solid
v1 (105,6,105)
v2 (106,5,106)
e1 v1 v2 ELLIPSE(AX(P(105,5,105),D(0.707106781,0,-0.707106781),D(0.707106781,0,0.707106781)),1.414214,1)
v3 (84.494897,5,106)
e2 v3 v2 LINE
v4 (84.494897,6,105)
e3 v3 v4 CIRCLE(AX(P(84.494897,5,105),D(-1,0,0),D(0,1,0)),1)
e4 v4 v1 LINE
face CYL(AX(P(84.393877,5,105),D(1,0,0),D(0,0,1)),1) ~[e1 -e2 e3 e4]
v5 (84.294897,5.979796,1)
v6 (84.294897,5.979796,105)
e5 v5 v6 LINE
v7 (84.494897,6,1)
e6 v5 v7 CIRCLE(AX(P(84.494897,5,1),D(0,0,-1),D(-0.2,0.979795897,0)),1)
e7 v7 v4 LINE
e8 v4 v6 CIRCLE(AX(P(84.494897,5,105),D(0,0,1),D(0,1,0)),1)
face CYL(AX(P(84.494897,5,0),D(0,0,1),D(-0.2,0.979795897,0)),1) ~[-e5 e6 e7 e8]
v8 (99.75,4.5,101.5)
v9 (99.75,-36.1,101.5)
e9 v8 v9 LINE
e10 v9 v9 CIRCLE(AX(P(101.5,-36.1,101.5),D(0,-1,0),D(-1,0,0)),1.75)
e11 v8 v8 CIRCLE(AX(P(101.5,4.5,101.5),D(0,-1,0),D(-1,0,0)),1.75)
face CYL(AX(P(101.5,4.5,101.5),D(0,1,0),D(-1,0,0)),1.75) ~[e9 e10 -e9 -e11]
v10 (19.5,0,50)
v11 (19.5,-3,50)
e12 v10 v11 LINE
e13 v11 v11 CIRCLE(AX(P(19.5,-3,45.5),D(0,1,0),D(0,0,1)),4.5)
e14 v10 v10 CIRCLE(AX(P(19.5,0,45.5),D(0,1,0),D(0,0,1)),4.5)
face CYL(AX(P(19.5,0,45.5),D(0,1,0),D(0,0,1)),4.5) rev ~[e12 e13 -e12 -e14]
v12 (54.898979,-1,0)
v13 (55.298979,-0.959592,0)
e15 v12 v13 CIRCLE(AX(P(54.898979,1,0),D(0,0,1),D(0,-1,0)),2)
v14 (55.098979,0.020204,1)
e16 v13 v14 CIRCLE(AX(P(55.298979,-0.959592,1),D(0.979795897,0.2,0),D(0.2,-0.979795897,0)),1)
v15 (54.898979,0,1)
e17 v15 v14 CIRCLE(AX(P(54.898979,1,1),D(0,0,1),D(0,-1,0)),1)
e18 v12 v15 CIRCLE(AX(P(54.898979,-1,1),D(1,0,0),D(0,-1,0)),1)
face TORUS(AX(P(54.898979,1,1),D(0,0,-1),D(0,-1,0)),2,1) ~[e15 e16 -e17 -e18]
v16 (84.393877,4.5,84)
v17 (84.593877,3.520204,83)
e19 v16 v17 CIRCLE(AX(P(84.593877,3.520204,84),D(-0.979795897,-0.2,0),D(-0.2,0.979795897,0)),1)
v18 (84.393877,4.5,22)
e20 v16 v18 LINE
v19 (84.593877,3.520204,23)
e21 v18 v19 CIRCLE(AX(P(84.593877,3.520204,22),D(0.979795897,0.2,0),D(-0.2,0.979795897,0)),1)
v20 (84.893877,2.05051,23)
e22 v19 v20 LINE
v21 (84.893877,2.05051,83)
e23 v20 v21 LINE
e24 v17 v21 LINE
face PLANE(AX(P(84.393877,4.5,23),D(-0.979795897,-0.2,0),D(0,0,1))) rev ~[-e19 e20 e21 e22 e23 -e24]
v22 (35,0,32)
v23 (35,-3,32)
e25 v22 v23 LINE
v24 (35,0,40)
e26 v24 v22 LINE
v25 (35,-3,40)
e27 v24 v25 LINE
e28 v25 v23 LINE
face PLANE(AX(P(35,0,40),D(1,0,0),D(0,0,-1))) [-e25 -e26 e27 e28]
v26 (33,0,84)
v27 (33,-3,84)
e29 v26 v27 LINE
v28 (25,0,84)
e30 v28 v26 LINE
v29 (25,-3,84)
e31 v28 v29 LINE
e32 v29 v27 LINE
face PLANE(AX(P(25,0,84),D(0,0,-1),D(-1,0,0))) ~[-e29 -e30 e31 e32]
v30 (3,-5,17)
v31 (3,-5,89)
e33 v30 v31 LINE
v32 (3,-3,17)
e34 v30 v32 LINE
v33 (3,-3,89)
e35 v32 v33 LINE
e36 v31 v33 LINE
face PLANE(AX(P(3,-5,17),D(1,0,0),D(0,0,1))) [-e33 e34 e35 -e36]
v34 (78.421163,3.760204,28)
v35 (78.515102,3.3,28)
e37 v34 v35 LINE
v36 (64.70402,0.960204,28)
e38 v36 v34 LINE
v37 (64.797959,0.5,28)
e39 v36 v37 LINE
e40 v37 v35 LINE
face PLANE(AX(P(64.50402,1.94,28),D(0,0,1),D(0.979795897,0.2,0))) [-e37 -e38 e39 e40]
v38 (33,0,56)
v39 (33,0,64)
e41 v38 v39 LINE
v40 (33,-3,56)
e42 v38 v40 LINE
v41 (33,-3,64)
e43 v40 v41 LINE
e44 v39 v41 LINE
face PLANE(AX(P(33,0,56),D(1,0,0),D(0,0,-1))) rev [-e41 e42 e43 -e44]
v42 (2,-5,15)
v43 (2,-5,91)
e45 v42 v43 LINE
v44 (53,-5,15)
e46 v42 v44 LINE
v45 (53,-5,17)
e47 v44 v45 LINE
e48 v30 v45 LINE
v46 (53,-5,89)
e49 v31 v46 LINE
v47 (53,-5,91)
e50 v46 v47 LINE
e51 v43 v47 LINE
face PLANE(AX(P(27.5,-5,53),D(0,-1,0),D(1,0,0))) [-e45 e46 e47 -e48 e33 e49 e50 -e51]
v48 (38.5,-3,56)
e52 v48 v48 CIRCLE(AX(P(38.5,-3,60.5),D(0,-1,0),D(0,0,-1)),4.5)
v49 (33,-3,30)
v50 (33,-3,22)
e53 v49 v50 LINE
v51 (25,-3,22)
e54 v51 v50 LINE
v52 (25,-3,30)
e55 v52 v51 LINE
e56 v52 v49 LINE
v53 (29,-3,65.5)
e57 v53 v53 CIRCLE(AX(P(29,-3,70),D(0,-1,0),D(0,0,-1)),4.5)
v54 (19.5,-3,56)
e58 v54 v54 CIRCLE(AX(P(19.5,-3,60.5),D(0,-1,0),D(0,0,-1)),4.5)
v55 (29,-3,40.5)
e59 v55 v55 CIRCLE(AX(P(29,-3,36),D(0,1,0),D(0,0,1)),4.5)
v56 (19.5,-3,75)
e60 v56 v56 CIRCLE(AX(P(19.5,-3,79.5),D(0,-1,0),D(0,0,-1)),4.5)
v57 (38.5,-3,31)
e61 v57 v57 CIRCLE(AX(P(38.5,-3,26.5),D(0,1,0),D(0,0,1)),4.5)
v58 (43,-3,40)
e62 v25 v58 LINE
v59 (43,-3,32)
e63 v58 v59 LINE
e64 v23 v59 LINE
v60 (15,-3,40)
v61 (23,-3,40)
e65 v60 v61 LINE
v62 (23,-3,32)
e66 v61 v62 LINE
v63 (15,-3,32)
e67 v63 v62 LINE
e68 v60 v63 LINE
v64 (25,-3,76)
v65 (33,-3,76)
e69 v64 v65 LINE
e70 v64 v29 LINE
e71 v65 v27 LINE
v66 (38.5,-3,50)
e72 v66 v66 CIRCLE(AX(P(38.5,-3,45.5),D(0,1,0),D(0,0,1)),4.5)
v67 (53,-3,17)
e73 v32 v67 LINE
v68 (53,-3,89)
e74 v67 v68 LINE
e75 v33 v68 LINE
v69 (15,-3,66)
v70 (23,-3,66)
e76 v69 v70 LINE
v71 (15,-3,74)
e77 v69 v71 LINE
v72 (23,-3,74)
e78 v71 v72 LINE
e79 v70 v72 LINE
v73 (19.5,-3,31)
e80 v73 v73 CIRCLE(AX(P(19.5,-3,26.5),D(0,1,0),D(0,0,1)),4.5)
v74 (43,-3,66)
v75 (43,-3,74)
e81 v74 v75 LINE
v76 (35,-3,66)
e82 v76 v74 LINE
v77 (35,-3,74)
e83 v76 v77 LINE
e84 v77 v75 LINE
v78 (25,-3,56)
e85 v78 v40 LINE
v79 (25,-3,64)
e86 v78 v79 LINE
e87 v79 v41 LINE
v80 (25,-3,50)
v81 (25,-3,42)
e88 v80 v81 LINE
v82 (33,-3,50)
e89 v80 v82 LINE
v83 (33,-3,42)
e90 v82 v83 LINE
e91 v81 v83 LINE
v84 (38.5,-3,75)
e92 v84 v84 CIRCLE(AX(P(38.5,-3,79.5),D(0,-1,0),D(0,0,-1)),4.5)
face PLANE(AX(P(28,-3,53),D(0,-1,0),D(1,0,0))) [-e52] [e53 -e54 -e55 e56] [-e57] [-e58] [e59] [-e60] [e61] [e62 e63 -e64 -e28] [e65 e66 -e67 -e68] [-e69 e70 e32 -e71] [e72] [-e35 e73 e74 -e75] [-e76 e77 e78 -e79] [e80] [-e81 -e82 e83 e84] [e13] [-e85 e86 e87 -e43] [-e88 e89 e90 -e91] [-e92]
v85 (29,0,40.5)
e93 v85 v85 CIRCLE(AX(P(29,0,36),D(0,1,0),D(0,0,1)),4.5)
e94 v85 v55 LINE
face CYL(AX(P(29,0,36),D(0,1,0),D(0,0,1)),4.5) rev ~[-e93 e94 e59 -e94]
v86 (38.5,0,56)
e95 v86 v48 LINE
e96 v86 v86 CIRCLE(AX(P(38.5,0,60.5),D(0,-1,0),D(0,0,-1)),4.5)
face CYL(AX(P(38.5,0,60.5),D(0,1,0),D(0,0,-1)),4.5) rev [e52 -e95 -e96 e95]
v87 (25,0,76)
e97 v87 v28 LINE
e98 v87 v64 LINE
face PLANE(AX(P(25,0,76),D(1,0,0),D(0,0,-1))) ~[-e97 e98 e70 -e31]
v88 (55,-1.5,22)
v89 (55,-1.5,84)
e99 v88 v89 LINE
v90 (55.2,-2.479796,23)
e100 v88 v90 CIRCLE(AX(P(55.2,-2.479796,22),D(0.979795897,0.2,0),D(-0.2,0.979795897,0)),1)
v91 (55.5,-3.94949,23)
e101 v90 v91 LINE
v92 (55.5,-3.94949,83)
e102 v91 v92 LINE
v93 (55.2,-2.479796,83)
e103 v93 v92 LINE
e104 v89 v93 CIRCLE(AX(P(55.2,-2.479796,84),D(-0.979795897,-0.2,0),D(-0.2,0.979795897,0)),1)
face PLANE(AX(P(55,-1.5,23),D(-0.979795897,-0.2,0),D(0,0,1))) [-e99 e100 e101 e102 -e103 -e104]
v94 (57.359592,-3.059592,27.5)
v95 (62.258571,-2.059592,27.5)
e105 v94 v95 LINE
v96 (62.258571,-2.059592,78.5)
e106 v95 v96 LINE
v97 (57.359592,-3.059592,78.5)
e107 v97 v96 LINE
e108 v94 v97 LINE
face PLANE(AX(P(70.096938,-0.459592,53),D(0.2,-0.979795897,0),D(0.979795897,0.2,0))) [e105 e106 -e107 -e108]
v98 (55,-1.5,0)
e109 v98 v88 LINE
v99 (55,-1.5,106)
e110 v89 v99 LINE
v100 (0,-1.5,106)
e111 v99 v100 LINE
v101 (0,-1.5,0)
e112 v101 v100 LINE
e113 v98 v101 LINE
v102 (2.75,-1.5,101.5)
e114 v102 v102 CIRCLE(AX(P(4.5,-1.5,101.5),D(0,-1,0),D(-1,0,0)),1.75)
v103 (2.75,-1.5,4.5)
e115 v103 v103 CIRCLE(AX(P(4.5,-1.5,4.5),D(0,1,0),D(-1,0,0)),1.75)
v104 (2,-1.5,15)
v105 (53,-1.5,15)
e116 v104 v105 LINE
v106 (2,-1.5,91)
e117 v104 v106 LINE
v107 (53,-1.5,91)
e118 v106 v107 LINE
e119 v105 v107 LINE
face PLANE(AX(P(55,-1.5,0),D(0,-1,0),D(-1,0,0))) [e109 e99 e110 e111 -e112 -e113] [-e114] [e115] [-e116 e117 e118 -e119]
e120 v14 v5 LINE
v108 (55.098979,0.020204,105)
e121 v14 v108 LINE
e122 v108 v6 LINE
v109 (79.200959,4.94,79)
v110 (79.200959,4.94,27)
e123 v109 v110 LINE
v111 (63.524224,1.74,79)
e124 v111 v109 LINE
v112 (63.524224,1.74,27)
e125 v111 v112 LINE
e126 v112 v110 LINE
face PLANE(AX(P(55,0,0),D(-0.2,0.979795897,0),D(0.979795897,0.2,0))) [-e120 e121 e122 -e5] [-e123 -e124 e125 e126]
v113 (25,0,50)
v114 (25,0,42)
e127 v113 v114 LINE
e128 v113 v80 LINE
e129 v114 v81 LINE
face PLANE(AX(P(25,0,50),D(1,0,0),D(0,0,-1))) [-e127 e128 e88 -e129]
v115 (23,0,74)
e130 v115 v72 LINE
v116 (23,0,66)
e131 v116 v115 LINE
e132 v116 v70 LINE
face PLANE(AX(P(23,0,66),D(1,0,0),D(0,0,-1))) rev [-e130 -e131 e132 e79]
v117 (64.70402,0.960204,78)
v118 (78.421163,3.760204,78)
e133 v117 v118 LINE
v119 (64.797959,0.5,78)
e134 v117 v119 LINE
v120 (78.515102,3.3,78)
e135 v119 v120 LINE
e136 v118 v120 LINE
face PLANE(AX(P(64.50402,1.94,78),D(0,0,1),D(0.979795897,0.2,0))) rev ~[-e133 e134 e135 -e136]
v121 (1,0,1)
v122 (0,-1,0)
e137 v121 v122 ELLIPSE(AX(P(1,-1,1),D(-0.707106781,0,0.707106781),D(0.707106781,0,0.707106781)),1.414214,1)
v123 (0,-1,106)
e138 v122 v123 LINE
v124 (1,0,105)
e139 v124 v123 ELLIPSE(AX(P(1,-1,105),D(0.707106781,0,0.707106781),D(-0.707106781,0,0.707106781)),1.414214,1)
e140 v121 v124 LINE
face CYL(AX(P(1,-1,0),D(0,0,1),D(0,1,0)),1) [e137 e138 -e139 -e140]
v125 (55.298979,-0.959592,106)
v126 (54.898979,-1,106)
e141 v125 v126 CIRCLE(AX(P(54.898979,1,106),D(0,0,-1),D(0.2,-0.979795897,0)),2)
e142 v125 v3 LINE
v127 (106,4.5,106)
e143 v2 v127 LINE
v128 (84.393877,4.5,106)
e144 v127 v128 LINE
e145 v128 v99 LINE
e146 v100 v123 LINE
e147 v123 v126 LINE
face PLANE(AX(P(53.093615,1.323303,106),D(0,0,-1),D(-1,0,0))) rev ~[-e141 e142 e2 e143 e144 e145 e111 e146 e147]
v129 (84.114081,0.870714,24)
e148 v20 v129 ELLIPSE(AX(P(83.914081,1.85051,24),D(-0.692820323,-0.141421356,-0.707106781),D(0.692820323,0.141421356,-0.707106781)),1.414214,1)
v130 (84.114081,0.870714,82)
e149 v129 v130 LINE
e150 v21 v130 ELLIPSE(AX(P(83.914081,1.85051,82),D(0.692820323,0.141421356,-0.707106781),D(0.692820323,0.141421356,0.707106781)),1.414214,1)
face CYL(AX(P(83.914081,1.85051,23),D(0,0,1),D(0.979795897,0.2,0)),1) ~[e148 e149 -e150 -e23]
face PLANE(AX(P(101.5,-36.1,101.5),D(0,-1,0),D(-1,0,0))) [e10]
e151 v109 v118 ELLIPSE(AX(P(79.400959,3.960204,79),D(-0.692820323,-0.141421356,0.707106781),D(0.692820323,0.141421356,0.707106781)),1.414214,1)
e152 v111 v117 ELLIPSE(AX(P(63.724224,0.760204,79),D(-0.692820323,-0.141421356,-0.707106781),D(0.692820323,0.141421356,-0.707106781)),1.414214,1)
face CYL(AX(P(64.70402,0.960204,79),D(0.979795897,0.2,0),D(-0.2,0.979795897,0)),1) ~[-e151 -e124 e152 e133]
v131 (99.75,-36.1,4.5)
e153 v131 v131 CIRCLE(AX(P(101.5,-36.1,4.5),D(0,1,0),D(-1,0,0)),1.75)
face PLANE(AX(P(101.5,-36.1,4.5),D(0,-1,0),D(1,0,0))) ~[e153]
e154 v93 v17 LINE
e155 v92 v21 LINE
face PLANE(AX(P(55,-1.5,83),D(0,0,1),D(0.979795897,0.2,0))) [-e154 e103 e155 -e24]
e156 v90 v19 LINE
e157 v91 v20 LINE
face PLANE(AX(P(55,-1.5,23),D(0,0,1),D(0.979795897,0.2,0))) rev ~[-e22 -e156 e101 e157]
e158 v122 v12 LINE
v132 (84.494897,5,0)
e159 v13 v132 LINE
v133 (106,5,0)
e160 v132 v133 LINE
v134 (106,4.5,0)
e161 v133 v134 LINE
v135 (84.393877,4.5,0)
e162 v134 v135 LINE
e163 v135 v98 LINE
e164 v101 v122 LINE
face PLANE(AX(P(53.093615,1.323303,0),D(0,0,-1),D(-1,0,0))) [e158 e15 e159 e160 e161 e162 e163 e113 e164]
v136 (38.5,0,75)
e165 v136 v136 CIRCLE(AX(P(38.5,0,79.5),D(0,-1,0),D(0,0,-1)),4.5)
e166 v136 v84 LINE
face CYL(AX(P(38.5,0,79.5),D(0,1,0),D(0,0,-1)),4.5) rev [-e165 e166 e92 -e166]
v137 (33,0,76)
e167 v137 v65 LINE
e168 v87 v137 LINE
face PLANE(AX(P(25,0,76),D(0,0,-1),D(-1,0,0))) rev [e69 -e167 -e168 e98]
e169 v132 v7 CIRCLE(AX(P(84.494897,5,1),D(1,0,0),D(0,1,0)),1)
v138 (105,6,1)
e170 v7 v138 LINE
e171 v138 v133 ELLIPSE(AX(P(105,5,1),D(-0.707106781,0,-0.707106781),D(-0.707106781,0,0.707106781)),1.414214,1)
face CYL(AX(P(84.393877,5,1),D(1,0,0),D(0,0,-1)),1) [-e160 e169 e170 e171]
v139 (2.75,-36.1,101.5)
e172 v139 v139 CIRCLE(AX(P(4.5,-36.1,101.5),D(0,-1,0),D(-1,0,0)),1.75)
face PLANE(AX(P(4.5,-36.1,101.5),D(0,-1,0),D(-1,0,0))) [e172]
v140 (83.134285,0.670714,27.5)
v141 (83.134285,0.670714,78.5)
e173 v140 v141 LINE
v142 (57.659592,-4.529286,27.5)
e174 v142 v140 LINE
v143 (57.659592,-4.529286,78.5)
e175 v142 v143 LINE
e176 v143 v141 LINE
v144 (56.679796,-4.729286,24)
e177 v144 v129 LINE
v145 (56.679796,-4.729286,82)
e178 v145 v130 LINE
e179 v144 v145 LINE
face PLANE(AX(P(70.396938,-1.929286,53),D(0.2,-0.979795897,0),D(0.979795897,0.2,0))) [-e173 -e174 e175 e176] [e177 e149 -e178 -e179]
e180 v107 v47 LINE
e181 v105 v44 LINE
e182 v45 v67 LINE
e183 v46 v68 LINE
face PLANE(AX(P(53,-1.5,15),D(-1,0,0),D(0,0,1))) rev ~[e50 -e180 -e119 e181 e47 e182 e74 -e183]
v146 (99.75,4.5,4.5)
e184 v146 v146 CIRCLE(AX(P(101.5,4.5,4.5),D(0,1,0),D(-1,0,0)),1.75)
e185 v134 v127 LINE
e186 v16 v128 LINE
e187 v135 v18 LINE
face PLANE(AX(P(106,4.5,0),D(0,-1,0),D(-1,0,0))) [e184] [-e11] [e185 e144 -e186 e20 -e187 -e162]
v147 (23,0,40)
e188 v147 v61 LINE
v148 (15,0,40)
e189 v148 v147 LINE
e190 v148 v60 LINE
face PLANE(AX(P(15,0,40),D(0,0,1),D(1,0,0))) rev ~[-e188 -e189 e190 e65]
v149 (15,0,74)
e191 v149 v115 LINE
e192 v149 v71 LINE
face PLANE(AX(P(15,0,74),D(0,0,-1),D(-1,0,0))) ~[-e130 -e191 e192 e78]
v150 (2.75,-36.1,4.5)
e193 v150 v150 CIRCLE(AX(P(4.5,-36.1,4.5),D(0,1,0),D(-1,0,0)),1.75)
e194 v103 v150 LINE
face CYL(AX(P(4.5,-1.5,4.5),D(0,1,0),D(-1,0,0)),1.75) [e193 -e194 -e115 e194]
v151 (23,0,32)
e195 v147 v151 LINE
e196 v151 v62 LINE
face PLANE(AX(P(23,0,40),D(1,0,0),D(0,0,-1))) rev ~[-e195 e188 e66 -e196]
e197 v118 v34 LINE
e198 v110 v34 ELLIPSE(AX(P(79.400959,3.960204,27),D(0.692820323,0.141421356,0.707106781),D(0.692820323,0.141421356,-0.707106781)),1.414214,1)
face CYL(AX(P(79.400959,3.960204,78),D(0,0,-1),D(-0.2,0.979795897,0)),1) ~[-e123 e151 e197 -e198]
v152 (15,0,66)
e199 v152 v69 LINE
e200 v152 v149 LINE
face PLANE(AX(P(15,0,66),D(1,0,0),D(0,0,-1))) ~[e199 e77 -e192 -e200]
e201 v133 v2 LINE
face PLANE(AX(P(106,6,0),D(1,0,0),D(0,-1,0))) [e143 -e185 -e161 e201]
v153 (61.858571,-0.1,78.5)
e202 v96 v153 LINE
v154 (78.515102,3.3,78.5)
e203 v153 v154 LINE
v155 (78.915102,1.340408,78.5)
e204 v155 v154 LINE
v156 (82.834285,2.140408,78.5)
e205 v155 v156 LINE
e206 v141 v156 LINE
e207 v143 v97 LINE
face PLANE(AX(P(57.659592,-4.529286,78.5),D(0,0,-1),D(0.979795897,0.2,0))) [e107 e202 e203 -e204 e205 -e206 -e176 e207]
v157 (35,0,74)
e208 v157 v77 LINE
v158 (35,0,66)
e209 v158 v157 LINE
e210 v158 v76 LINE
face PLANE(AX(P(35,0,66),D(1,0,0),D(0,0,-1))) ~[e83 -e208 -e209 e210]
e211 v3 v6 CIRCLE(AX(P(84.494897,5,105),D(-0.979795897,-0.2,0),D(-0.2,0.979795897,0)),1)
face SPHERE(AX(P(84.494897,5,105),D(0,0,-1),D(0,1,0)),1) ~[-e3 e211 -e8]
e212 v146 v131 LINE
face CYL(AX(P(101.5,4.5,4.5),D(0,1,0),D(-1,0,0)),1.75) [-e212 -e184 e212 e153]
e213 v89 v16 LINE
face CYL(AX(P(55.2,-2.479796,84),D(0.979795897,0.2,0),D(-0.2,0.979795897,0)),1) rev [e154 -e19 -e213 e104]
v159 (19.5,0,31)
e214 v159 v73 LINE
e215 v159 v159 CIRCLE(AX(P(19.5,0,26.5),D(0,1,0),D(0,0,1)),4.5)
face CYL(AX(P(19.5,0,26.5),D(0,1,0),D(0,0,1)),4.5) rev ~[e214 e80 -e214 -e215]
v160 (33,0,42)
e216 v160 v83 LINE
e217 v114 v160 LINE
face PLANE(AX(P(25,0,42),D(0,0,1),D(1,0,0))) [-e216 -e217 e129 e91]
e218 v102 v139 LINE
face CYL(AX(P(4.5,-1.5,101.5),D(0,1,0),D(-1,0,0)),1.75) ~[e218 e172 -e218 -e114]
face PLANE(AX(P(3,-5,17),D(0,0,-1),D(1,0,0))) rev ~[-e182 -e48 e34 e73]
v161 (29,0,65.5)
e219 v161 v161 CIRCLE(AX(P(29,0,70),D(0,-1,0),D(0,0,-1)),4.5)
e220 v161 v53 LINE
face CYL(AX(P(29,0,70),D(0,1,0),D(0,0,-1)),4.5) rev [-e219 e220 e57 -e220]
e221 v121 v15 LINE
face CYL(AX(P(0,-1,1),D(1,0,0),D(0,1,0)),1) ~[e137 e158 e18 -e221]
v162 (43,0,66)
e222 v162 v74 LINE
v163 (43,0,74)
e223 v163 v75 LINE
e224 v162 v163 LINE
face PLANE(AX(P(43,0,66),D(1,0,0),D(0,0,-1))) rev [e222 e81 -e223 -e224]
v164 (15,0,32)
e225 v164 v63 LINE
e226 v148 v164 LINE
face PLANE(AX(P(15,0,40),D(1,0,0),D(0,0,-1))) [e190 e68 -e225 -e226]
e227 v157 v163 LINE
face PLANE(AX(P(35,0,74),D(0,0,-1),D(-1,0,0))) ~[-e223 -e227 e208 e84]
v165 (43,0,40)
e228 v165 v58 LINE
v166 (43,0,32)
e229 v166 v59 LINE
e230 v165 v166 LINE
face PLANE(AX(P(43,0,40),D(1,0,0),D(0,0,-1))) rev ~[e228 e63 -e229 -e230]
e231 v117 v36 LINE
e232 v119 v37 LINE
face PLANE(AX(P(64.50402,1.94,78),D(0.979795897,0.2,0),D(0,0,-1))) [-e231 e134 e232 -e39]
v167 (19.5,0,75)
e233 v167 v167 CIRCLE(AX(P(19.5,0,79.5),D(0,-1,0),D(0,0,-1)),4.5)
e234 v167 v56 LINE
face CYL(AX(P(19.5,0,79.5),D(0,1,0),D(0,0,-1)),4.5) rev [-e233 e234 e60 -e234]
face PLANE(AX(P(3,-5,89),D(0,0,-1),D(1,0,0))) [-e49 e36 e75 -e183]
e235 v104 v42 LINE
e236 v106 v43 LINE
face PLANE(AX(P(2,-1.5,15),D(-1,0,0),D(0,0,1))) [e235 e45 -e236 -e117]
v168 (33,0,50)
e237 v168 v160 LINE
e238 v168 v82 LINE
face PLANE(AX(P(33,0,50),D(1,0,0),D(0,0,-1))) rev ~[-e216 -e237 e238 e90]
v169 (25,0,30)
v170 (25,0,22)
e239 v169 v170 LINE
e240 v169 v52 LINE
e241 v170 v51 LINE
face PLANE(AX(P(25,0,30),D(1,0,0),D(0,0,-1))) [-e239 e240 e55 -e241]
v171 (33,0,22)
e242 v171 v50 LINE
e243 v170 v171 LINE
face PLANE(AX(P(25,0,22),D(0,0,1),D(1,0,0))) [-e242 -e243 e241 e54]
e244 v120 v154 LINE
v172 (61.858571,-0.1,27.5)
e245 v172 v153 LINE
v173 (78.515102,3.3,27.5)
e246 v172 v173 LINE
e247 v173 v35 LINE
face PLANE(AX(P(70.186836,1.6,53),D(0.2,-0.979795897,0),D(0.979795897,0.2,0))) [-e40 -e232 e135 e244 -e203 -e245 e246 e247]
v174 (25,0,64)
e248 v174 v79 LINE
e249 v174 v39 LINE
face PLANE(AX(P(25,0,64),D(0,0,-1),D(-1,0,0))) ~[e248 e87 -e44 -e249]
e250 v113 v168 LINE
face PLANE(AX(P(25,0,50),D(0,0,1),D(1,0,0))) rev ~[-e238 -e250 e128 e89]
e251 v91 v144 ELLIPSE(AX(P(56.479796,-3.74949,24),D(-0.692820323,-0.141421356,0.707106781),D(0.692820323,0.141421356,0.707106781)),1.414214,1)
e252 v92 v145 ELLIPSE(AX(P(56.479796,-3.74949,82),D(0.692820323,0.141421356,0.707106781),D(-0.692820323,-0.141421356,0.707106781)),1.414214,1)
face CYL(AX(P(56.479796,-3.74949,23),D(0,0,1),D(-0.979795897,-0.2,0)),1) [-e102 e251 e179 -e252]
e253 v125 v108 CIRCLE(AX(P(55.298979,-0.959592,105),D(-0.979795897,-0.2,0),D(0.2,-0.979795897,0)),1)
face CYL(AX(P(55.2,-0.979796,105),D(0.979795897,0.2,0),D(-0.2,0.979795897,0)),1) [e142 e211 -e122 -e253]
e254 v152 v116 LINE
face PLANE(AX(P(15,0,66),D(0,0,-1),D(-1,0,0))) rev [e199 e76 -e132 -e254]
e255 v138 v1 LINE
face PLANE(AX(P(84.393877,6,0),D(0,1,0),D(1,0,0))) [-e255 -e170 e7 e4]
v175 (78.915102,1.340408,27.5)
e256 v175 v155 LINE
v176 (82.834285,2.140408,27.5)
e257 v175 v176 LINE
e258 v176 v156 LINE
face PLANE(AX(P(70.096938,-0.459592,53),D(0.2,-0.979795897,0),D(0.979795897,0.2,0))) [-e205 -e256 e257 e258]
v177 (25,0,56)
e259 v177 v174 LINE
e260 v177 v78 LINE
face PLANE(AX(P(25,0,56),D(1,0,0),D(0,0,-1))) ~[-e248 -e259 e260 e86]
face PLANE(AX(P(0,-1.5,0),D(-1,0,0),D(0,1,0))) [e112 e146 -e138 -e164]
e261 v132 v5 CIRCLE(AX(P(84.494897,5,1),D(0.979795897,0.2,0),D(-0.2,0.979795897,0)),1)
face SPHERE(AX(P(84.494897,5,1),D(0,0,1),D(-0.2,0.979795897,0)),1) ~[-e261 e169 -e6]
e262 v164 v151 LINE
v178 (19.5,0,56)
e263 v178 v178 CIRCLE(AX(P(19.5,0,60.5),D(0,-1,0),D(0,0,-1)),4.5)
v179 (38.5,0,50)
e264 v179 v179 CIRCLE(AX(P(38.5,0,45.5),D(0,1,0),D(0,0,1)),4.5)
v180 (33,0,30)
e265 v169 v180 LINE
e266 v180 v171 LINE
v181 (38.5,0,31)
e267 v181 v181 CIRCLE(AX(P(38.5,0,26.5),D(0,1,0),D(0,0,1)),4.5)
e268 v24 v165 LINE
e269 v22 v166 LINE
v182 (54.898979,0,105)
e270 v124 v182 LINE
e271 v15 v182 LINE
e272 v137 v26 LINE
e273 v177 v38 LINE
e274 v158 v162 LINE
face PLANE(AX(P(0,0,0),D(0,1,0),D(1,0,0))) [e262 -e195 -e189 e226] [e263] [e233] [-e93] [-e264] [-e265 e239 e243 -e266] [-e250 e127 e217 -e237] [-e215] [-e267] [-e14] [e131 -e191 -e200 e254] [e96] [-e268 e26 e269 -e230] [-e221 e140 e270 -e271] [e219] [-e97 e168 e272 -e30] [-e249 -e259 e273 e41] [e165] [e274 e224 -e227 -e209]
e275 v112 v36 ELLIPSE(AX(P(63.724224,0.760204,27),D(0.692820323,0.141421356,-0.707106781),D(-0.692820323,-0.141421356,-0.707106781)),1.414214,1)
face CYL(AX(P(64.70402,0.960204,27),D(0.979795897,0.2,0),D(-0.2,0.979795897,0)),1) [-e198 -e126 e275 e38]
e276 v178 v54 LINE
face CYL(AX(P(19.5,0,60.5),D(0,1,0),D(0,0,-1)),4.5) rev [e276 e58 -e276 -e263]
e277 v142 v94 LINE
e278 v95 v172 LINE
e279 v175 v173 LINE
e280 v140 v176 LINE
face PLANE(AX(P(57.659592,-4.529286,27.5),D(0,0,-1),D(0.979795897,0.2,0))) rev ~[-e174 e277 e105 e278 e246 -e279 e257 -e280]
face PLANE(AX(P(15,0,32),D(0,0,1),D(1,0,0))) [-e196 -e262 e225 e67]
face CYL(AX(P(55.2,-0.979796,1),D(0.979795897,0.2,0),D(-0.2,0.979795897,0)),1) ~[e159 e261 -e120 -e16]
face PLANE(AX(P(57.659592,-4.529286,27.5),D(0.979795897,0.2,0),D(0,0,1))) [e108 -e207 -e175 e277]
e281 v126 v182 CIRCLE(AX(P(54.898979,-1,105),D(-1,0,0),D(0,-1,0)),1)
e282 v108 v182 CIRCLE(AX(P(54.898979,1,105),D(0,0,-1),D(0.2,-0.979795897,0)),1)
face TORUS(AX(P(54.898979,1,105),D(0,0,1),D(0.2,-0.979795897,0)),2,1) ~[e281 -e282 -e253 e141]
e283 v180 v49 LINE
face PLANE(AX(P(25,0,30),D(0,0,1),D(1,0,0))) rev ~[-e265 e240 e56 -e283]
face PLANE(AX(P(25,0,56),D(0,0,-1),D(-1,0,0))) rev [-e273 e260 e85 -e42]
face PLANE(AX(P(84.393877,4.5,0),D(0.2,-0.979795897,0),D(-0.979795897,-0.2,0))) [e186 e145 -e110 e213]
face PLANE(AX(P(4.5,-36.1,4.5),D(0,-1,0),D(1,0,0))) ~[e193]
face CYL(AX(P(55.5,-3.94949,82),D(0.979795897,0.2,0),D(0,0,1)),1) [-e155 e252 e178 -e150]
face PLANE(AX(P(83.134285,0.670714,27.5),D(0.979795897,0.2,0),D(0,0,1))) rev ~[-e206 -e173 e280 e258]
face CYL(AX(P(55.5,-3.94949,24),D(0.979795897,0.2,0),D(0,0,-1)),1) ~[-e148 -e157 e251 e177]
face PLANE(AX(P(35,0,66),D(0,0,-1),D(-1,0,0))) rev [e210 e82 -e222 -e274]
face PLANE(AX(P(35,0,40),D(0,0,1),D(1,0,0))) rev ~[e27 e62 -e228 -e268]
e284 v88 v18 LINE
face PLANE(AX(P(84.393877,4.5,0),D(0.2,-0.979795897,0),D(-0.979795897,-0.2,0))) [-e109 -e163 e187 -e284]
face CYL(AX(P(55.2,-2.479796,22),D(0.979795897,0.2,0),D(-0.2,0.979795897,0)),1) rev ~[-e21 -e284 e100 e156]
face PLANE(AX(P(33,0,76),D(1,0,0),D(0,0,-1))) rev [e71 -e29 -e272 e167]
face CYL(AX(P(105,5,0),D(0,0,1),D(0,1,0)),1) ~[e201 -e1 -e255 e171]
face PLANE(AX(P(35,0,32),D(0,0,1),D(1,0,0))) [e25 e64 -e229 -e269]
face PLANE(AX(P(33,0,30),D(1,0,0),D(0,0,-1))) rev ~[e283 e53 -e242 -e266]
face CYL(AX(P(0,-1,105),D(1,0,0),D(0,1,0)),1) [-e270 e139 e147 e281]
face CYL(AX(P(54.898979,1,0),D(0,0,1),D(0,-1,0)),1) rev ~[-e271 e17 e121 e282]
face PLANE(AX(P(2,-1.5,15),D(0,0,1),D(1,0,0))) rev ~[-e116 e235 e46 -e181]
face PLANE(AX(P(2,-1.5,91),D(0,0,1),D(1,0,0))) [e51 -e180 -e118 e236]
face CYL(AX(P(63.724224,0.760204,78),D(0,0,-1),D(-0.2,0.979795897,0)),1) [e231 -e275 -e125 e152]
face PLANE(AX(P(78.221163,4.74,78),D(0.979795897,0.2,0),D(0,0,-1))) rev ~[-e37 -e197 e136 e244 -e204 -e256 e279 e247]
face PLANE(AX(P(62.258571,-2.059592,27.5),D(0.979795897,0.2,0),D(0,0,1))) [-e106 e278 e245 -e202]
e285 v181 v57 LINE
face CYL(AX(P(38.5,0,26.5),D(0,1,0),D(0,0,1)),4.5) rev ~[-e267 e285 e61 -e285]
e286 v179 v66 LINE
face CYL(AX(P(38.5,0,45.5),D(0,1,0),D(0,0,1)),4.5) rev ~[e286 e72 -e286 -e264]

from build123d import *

# Parameters (mm, degrees)
EXTRUDE_1_DEPTH     = 106
SKETCH_4_R          = 1.75
EXTRUDE_2_DEPTH     = 34.6
SKETCH_5_R          = 1.75
EXTRUDE_3_DEPTH     = 40.6
SKETCH_8_W          = 30
SKETCH_8_H          = 60
EXTRUDE_4_DEPTH     = 3.5
SKETCH_9_W          = 26
SKETCH_9_H          = 51
CUT_EXTRUDE_1_DEPTH = 1.5
SKETCH_10_W         = 17
SKETCH_10_H         = 51
CUT_EXTRUDE_2_DEPTH = 2
CUT_EXTRUDE_4_REACH = 152.505
SKETCH_11_W         = 14
SKETCH_11_H         = 50
FILLET_3_R          = 1
FILLET_4_R          = 1
SKETCH_13_W         = 51
SKETCH_13_H         = 76
EXTRUDE_5_DEPTH     = 3.5
SKETCH_14_W         = 50
SKETCH_14_H         = 72
CUT_EXTRUDE_5_DEPTH = 2
CUT_EXTRUDE_7_REACH = 156.192
SKETCH_15_R         = 4.5
SKETCH_15_W         = 8
SKETCH_15_H         = 8


with BuildPart() as part:
    # 草图2 → 凸台-拉伸1 (new body)
    with BuildSketch(Plane.XY):
        Polygon((0, 0), (55, 0), (84.393876913, 6), (106, 6), (106, 4.5), (84.393876913, 4.5), (55, -1.5), (0, -1.5), align=None)
    extrude(amount=EXTRUDE_1_DEPTH)

    # 草图4 → 凸台-拉伸2 (add)
    with BuildSketch(Plane.XZ.offset(1.5)):
        with Locations(Location((4.5, 101.5, 0), (0, 0, 180))):
            Circle(SKETCH_4_R)
    extrude_2 = extrude(amount=EXTRUDE_2_DEPTH)

    # 草图5 → 凸台-拉伸3 (add)
    with BuildSketch(Plane.XZ.offset(-4.5)):
        with Locations(Location((101.5, 101.5, 0), (0, 0, 180))):
            Circle(SKETCH_5_R)
    extrude_3 = extrude(amount=EXTRUDE_3_DEPTH)

    # 镜向1: 凸台-拉伸2, 凸台-拉伸3 across plane
    add(extrude_2.mirror(Plane.XY.offset(53)))
    add(extrude_3.mirror(Plane.XY.offset(53)))

    # 草图8 → 凸台-拉伸4 (add)
    with BuildSketch(Plane(origin=(2.493938769, -12.217754868, 0), x_dir=(0.9797958971132713, 0.20000000000000007, 0), z_dir=(0.20000000000000007, -0.9797958971132713, 0))):
        with Locations((68.588774341, 53)):
            Rectangle(SKETCH_8_W, SKETCH_8_H)
    extrude(amount=EXTRUDE_4_DEPTH)

    # 草图9 → 切除-拉伸1 (cut)
    with BuildSketch(Plane(origin=(3.193938769, -15.647040508, 0), x_dir=(0.9797958971132713, 0.19999999999999998, 0), z_dir=(0.19999999999999998, -0.9797958971132713, 0))):
        with Locations((68.588774341, 53)):
            Rectangle(SKETCH_9_W, SKETCH_9_H)
    extrude(amount=-CUT_EXTRUDE_1_DEPTH, mode=Mode.SUBTRACT)

    # 草图10 → 切除-拉伸2 (cut)
    with BuildSketch(Plane(origin=(2.893938769, -14.177346662, 0), x_dir=(0.9797958971132713, 0.19999999999999998, 0), z_dir=(0.19999999999999998, -0.9797958971132713, 0))):
        with Locations((69.088774341, 53)):
            Rectangle(SKETCH_10_W, SKETCH_10_H)
    extrude(amount=-CUT_EXTRUDE_2_DEPTH, mode=Mode.SUBTRACT)

    # 草图11 → 切除-拉伸4 (cut, up to next)
    with BuildSketch(Plane(origin=(2.2, -10.777754868, 0), x_dir=(0.9797958971132713, 0.20000000000000007, 0), z_dir=(-0.20000000000000007, 0.9797958971132713, 0)), mode=Mode.PRIVATE) as cut_extrude_4_sk1:
        with Locations((70.588774341, -53)):
            Rectangle(SKETCH_11_W, SKETCH_11_H)
    cut_extrude_4_tool1 = extrude(cut_extrude_4_sk1.sketch, amount=-CUT_EXTRUDE_4_REACH, mode=Mode.PRIVATE) & part.part
    add(cut_extrude_4_tool1.solids().sort_by_distance((71.362591, 3.34, 53))[0], mode=Mode.SUBTRACT)

    # 圆角3
    fillet_3_edges = [part.edges().sort_by_distance(p)[0] for p in [
        (0, 0, 53),
        (55, 0, 53),
        (84.393876913, 6, 53),
        (106, 6, 53),
        (95.196938457, 6, 106),
        (69.696938457, 3, 106),
        (27.5, 0, 106),
        (27.5, 0, 0),
        (69.696938457, 3, 0),
        (95.196938457, 6, 0),
        (64.504020202, 1.94, 53),
        (71.362591482, 3.34, 78),
        (78.221162762, 4.74, 53),
        (71.362591482, 3.34, 28),
    ]]
    fillet(fillet_3_edges, radius=FILLET_3_R)

    # 圆角4
    fillet_4_edges = [part.edges().sort_by_distance(p)[0] for p in [
        (69.696938457, 1.5, 23),
        (69.696938457, 1.5, 83),
        (55.7, -4.92928564, 53),
        (70.396938457, -1.92928564, 23),
        (85.093876913, 1.07071436, 53),
        (70.396938457, -1.92928564, 83),
    ]]
    fillet(fillet_4_edges, radius=FILLET_4_R)

    # 草图13 → 凸台-拉伸5 (add)
    with BuildSketch(Plane.XZ.offset(1.5)):
        with Locations((27.5, 53)):
            Rectangle(SKETCH_13_W, SKETCH_13_H)
    extrude(amount=EXTRUDE_5_DEPTH)

    # 草图14 → 切除-拉伸5 (cut)
    with BuildSketch(Plane.XZ.offset(5)):
        with Locations((28, 53)):
            Rectangle(SKETCH_14_W, SKETCH_14_H)
    extrude(amount=-CUT_EXTRUDE_5_DEPTH, mode=Mode.SUBTRACT)

    # 草图15 → 切除-拉伸7 (cut, up to next)
    with BuildSketch(Plane(origin=(0, 0, 0), x_dir=(1, 0, 0), z_dir=(0, 1, 0)), mode=Mode.PRIVATE) as cut_extrude_7_sk1:
        with Locations(Location((29, -36, 0), (0, 0, 270))):
            Circle(SKETCH_15_R)
    cut_extrude_7_tool1 = extrude(cut_extrude_7_sk1.sketch, amount=-CUT_EXTRUDE_7_REACH, mode=Mode.PRIVATE) & part.part
    # 草图15 → 切除-拉伸7 (cut, up to next)
    with BuildSketch(Plane(origin=(0, 0, 0), x_dir=(1, 0, 0), z_dir=(0, 1, 0)), mode=Mode.PRIVATE) as cut_extrude_7_sk2:
        with Locations(Location((38.5, -26.5, 0), (0, 0, 270))):
            Circle(SKETCH_15_R)
    cut_extrude_7_tool2 = extrude(cut_extrude_7_sk2.sketch, amount=-CUT_EXTRUDE_7_REACH, mode=Mode.PRIVATE) & part.part
    # 草图15 → 切除-拉伸7 (cut, up to next)
    with BuildSketch(Plane(origin=(0, 0, 0), x_dir=(1, 0, 0), z_dir=(0, 1, 0)), mode=Mode.PRIVATE) as cut_extrude_7_sk3:
        with Locations(Location((38.5, -45.5, 0), (0, 0, 270))):
            Circle(SKETCH_15_R)
    cut_extrude_7_tool3 = extrude(cut_extrude_7_sk3.sketch, amount=-CUT_EXTRUDE_7_REACH, mode=Mode.PRIVATE) & part.part
    # 草图15 → 切除-拉伸7 (cut, up to next)
    with BuildSketch(Plane(origin=(0, 0, 0), x_dir=(1, 0, 0), z_dir=(0, 1, 0)), mode=Mode.PRIVATE) as cut_extrude_7_sk4:
        with Locations(Location((19.5, -26.5, 0), (0, 0, 270))):
            Circle(SKETCH_15_R)
    cut_extrude_7_tool4 = extrude(cut_extrude_7_sk4.sketch, amount=-CUT_EXTRUDE_7_REACH, mode=Mode.PRIVATE) & part.part
    # 草图15 → 切除-拉伸7 (cut, up to next)
    with BuildSketch(Plane(origin=(0, 0, 0), x_dir=(1, 0, 0), z_dir=(0, 1, 0)), mode=Mode.PRIVATE) as cut_extrude_7_sk5:
        with Locations(Location((19.5, -45.5, 0), (0, 0, 270))):
            Circle(SKETCH_15_R)
    cut_extrude_7_tool5 = extrude(cut_extrude_7_sk5.sketch, amount=-CUT_EXTRUDE_7_REACH, mode=Mode.PRIVATE) & part.part
    # 草图15 → 切除-拉伸7 (cut, up to next)
    with BuildSketch(Plane(origin=(0, 0, 0), x_dir=(1, 0, 0), z_dir=(0, 1, 0)), mode=Mode.PRIVATE) as cut_extrude_7_sk6:
        with Locations((39, -36)):
            Rectangle(SKETCH_15_W, SKETCH_15_H)
    cut_extrude_7_tool6 = extrude(cut_extrude_7_sk6.sketch, amount=-CUT_EXTRUDE_7_REACH, mode=Mode.PRIVATE) & part.part
    # 草图15 → 切除-拉伸7 (cut, up to next)
    with BuildSketch(Plane(origin=(0, 0, 0), x_dir=(1, 0, 0), z_dir=(0, 1, 0)), mode=Mode.PRIVATE) as cut_extrude_7_sk7:
        with Locations((29, -26)):
            Rectangle(SKETCH_15_W, SKETCH_15_H)
    cut_extrude_7_tool7 = extrude(cut_extrude_7_sk7.sketch, amount=-CUT_EXTRUDE_7_REACH, mode=Mode.PRIVATE) & part.part
    # 草图15 → 切除-拉伸7 (cut, up to next)
    with BuildSketch(Plane(origin=(0, 0, 0), x_dir=(1, 0, 0), z_dir=(0, 1, 0)), mode=Mode.PRIVATE) as cut_extrude_7_sk8:
        with Locations((29, -46)):
            Rectangle(SKETCH_15_W, SKETCH_15_H)
    cut_extrude_7_tool8 = extrude(cut_extrude_7_sk8.sketch, amount=-CUT_EXTRUDE_7_REACH, mode=Mode.PRIVATE) & part.part
    # 草图15 → 切除-拉伸7 (cut, up to next)
    with BuildSketch(Plane(origin=(0, 0, 0), x_dir=(1, 0, 0), z_dir=(0, 1, 0)), mode=Mode.PRIVATE) as cut_extrude_7_sk9:
        with Locations((19, -36)):
            Rectangle(SKETCH_15_W, SKETCH_15_H)
    cut_extrude_7_tool9 = extrude(cut_extrude_7_sk9.sketch, amount=-CUT_EXTRUDE_7_REACH, mode=Mode.PRIVATE) & part.part
    cut_extrude_7_1 = cut_extrude_7_tool1.solids().sort_by_distance((29, 0, 36))[0]
    add(cut_extrude_7_1, mode=Mode.SUBTRACT)
    cut_extrude_7_2 = cut_extrude_7_tool2.solids().sort_by_distance((38.5, 0, 26.5))[0]
    add(cut_extrude_7_2, mode=Mode.SUBTRACT)
    cut_extrude_7_3 = cut_extrude_7_tool3.solids().sort_by_distance((38.5, 0, 45.5))[0]
    add(cut_extrude_7_3, mode=Mode.SUBTRACT)
    cut_extrude_7_4 = cut_extrude_7_tool4.solids().sort_by_distance((19.5, 0, 26.5))[0]
    add(cut_extrude_7_4, mode=Mode.SUBTRACT)
    cut_extrude_7_5 = cut_extrude_7_tool5.solids().sort_by_distance((19.5, 0, 45.5))[0]
    add(cut_extrude_7_5, mode=Mode.SUBTRACT)
    cut_extrude_7_6 = cut_extrude_7_tool6.solids().sort_by_distance((39, 0, 36))[0]
    add(cut_extrude_7_6, mode=Mode.SUBTRACT)
    cut_extrude_7_7 = cut_extrude_7_tool7.solids().sort_by_distance((29, 0, 26))[0]
    add(cut_extrude_7_7, mode=Mode.SUBTRACT)
    cut_extrude_7_8 = cut_extrude_7_tool8.solids().sort_by_distance((29, 0, 46))[0]
    add(cut_extrude_7_8, mode=Mode.SUBTRACT)
    cut_extrude_7_9 = cut_extrude_7_tool9.solids().sort_by_distance((19, 0, 36))[0]
    add(cut_extrude_7_9, mode=Mode.SUBTRACT)
    cut_extrude_7 = cut_extrude_7_1 + cut_extrude_7_2 + cut_extrude_7_3 + cut_extrude_7_4 + cut_extrude_7_5 + cut_extrude_7_6 + cut_extrude_7_7 + cut_extrude_7_8 + cut_extrude_7_9  # 切除-拉伸7 as one shape, for the pattern or mirror that repeats it

    # 镜向2: 切除-拉伸7 across plane
    add(cut_extrude_7.mirror(Plane.XY.offset(53)), mode=Mode.SUBTRACT)


solid = part.part
